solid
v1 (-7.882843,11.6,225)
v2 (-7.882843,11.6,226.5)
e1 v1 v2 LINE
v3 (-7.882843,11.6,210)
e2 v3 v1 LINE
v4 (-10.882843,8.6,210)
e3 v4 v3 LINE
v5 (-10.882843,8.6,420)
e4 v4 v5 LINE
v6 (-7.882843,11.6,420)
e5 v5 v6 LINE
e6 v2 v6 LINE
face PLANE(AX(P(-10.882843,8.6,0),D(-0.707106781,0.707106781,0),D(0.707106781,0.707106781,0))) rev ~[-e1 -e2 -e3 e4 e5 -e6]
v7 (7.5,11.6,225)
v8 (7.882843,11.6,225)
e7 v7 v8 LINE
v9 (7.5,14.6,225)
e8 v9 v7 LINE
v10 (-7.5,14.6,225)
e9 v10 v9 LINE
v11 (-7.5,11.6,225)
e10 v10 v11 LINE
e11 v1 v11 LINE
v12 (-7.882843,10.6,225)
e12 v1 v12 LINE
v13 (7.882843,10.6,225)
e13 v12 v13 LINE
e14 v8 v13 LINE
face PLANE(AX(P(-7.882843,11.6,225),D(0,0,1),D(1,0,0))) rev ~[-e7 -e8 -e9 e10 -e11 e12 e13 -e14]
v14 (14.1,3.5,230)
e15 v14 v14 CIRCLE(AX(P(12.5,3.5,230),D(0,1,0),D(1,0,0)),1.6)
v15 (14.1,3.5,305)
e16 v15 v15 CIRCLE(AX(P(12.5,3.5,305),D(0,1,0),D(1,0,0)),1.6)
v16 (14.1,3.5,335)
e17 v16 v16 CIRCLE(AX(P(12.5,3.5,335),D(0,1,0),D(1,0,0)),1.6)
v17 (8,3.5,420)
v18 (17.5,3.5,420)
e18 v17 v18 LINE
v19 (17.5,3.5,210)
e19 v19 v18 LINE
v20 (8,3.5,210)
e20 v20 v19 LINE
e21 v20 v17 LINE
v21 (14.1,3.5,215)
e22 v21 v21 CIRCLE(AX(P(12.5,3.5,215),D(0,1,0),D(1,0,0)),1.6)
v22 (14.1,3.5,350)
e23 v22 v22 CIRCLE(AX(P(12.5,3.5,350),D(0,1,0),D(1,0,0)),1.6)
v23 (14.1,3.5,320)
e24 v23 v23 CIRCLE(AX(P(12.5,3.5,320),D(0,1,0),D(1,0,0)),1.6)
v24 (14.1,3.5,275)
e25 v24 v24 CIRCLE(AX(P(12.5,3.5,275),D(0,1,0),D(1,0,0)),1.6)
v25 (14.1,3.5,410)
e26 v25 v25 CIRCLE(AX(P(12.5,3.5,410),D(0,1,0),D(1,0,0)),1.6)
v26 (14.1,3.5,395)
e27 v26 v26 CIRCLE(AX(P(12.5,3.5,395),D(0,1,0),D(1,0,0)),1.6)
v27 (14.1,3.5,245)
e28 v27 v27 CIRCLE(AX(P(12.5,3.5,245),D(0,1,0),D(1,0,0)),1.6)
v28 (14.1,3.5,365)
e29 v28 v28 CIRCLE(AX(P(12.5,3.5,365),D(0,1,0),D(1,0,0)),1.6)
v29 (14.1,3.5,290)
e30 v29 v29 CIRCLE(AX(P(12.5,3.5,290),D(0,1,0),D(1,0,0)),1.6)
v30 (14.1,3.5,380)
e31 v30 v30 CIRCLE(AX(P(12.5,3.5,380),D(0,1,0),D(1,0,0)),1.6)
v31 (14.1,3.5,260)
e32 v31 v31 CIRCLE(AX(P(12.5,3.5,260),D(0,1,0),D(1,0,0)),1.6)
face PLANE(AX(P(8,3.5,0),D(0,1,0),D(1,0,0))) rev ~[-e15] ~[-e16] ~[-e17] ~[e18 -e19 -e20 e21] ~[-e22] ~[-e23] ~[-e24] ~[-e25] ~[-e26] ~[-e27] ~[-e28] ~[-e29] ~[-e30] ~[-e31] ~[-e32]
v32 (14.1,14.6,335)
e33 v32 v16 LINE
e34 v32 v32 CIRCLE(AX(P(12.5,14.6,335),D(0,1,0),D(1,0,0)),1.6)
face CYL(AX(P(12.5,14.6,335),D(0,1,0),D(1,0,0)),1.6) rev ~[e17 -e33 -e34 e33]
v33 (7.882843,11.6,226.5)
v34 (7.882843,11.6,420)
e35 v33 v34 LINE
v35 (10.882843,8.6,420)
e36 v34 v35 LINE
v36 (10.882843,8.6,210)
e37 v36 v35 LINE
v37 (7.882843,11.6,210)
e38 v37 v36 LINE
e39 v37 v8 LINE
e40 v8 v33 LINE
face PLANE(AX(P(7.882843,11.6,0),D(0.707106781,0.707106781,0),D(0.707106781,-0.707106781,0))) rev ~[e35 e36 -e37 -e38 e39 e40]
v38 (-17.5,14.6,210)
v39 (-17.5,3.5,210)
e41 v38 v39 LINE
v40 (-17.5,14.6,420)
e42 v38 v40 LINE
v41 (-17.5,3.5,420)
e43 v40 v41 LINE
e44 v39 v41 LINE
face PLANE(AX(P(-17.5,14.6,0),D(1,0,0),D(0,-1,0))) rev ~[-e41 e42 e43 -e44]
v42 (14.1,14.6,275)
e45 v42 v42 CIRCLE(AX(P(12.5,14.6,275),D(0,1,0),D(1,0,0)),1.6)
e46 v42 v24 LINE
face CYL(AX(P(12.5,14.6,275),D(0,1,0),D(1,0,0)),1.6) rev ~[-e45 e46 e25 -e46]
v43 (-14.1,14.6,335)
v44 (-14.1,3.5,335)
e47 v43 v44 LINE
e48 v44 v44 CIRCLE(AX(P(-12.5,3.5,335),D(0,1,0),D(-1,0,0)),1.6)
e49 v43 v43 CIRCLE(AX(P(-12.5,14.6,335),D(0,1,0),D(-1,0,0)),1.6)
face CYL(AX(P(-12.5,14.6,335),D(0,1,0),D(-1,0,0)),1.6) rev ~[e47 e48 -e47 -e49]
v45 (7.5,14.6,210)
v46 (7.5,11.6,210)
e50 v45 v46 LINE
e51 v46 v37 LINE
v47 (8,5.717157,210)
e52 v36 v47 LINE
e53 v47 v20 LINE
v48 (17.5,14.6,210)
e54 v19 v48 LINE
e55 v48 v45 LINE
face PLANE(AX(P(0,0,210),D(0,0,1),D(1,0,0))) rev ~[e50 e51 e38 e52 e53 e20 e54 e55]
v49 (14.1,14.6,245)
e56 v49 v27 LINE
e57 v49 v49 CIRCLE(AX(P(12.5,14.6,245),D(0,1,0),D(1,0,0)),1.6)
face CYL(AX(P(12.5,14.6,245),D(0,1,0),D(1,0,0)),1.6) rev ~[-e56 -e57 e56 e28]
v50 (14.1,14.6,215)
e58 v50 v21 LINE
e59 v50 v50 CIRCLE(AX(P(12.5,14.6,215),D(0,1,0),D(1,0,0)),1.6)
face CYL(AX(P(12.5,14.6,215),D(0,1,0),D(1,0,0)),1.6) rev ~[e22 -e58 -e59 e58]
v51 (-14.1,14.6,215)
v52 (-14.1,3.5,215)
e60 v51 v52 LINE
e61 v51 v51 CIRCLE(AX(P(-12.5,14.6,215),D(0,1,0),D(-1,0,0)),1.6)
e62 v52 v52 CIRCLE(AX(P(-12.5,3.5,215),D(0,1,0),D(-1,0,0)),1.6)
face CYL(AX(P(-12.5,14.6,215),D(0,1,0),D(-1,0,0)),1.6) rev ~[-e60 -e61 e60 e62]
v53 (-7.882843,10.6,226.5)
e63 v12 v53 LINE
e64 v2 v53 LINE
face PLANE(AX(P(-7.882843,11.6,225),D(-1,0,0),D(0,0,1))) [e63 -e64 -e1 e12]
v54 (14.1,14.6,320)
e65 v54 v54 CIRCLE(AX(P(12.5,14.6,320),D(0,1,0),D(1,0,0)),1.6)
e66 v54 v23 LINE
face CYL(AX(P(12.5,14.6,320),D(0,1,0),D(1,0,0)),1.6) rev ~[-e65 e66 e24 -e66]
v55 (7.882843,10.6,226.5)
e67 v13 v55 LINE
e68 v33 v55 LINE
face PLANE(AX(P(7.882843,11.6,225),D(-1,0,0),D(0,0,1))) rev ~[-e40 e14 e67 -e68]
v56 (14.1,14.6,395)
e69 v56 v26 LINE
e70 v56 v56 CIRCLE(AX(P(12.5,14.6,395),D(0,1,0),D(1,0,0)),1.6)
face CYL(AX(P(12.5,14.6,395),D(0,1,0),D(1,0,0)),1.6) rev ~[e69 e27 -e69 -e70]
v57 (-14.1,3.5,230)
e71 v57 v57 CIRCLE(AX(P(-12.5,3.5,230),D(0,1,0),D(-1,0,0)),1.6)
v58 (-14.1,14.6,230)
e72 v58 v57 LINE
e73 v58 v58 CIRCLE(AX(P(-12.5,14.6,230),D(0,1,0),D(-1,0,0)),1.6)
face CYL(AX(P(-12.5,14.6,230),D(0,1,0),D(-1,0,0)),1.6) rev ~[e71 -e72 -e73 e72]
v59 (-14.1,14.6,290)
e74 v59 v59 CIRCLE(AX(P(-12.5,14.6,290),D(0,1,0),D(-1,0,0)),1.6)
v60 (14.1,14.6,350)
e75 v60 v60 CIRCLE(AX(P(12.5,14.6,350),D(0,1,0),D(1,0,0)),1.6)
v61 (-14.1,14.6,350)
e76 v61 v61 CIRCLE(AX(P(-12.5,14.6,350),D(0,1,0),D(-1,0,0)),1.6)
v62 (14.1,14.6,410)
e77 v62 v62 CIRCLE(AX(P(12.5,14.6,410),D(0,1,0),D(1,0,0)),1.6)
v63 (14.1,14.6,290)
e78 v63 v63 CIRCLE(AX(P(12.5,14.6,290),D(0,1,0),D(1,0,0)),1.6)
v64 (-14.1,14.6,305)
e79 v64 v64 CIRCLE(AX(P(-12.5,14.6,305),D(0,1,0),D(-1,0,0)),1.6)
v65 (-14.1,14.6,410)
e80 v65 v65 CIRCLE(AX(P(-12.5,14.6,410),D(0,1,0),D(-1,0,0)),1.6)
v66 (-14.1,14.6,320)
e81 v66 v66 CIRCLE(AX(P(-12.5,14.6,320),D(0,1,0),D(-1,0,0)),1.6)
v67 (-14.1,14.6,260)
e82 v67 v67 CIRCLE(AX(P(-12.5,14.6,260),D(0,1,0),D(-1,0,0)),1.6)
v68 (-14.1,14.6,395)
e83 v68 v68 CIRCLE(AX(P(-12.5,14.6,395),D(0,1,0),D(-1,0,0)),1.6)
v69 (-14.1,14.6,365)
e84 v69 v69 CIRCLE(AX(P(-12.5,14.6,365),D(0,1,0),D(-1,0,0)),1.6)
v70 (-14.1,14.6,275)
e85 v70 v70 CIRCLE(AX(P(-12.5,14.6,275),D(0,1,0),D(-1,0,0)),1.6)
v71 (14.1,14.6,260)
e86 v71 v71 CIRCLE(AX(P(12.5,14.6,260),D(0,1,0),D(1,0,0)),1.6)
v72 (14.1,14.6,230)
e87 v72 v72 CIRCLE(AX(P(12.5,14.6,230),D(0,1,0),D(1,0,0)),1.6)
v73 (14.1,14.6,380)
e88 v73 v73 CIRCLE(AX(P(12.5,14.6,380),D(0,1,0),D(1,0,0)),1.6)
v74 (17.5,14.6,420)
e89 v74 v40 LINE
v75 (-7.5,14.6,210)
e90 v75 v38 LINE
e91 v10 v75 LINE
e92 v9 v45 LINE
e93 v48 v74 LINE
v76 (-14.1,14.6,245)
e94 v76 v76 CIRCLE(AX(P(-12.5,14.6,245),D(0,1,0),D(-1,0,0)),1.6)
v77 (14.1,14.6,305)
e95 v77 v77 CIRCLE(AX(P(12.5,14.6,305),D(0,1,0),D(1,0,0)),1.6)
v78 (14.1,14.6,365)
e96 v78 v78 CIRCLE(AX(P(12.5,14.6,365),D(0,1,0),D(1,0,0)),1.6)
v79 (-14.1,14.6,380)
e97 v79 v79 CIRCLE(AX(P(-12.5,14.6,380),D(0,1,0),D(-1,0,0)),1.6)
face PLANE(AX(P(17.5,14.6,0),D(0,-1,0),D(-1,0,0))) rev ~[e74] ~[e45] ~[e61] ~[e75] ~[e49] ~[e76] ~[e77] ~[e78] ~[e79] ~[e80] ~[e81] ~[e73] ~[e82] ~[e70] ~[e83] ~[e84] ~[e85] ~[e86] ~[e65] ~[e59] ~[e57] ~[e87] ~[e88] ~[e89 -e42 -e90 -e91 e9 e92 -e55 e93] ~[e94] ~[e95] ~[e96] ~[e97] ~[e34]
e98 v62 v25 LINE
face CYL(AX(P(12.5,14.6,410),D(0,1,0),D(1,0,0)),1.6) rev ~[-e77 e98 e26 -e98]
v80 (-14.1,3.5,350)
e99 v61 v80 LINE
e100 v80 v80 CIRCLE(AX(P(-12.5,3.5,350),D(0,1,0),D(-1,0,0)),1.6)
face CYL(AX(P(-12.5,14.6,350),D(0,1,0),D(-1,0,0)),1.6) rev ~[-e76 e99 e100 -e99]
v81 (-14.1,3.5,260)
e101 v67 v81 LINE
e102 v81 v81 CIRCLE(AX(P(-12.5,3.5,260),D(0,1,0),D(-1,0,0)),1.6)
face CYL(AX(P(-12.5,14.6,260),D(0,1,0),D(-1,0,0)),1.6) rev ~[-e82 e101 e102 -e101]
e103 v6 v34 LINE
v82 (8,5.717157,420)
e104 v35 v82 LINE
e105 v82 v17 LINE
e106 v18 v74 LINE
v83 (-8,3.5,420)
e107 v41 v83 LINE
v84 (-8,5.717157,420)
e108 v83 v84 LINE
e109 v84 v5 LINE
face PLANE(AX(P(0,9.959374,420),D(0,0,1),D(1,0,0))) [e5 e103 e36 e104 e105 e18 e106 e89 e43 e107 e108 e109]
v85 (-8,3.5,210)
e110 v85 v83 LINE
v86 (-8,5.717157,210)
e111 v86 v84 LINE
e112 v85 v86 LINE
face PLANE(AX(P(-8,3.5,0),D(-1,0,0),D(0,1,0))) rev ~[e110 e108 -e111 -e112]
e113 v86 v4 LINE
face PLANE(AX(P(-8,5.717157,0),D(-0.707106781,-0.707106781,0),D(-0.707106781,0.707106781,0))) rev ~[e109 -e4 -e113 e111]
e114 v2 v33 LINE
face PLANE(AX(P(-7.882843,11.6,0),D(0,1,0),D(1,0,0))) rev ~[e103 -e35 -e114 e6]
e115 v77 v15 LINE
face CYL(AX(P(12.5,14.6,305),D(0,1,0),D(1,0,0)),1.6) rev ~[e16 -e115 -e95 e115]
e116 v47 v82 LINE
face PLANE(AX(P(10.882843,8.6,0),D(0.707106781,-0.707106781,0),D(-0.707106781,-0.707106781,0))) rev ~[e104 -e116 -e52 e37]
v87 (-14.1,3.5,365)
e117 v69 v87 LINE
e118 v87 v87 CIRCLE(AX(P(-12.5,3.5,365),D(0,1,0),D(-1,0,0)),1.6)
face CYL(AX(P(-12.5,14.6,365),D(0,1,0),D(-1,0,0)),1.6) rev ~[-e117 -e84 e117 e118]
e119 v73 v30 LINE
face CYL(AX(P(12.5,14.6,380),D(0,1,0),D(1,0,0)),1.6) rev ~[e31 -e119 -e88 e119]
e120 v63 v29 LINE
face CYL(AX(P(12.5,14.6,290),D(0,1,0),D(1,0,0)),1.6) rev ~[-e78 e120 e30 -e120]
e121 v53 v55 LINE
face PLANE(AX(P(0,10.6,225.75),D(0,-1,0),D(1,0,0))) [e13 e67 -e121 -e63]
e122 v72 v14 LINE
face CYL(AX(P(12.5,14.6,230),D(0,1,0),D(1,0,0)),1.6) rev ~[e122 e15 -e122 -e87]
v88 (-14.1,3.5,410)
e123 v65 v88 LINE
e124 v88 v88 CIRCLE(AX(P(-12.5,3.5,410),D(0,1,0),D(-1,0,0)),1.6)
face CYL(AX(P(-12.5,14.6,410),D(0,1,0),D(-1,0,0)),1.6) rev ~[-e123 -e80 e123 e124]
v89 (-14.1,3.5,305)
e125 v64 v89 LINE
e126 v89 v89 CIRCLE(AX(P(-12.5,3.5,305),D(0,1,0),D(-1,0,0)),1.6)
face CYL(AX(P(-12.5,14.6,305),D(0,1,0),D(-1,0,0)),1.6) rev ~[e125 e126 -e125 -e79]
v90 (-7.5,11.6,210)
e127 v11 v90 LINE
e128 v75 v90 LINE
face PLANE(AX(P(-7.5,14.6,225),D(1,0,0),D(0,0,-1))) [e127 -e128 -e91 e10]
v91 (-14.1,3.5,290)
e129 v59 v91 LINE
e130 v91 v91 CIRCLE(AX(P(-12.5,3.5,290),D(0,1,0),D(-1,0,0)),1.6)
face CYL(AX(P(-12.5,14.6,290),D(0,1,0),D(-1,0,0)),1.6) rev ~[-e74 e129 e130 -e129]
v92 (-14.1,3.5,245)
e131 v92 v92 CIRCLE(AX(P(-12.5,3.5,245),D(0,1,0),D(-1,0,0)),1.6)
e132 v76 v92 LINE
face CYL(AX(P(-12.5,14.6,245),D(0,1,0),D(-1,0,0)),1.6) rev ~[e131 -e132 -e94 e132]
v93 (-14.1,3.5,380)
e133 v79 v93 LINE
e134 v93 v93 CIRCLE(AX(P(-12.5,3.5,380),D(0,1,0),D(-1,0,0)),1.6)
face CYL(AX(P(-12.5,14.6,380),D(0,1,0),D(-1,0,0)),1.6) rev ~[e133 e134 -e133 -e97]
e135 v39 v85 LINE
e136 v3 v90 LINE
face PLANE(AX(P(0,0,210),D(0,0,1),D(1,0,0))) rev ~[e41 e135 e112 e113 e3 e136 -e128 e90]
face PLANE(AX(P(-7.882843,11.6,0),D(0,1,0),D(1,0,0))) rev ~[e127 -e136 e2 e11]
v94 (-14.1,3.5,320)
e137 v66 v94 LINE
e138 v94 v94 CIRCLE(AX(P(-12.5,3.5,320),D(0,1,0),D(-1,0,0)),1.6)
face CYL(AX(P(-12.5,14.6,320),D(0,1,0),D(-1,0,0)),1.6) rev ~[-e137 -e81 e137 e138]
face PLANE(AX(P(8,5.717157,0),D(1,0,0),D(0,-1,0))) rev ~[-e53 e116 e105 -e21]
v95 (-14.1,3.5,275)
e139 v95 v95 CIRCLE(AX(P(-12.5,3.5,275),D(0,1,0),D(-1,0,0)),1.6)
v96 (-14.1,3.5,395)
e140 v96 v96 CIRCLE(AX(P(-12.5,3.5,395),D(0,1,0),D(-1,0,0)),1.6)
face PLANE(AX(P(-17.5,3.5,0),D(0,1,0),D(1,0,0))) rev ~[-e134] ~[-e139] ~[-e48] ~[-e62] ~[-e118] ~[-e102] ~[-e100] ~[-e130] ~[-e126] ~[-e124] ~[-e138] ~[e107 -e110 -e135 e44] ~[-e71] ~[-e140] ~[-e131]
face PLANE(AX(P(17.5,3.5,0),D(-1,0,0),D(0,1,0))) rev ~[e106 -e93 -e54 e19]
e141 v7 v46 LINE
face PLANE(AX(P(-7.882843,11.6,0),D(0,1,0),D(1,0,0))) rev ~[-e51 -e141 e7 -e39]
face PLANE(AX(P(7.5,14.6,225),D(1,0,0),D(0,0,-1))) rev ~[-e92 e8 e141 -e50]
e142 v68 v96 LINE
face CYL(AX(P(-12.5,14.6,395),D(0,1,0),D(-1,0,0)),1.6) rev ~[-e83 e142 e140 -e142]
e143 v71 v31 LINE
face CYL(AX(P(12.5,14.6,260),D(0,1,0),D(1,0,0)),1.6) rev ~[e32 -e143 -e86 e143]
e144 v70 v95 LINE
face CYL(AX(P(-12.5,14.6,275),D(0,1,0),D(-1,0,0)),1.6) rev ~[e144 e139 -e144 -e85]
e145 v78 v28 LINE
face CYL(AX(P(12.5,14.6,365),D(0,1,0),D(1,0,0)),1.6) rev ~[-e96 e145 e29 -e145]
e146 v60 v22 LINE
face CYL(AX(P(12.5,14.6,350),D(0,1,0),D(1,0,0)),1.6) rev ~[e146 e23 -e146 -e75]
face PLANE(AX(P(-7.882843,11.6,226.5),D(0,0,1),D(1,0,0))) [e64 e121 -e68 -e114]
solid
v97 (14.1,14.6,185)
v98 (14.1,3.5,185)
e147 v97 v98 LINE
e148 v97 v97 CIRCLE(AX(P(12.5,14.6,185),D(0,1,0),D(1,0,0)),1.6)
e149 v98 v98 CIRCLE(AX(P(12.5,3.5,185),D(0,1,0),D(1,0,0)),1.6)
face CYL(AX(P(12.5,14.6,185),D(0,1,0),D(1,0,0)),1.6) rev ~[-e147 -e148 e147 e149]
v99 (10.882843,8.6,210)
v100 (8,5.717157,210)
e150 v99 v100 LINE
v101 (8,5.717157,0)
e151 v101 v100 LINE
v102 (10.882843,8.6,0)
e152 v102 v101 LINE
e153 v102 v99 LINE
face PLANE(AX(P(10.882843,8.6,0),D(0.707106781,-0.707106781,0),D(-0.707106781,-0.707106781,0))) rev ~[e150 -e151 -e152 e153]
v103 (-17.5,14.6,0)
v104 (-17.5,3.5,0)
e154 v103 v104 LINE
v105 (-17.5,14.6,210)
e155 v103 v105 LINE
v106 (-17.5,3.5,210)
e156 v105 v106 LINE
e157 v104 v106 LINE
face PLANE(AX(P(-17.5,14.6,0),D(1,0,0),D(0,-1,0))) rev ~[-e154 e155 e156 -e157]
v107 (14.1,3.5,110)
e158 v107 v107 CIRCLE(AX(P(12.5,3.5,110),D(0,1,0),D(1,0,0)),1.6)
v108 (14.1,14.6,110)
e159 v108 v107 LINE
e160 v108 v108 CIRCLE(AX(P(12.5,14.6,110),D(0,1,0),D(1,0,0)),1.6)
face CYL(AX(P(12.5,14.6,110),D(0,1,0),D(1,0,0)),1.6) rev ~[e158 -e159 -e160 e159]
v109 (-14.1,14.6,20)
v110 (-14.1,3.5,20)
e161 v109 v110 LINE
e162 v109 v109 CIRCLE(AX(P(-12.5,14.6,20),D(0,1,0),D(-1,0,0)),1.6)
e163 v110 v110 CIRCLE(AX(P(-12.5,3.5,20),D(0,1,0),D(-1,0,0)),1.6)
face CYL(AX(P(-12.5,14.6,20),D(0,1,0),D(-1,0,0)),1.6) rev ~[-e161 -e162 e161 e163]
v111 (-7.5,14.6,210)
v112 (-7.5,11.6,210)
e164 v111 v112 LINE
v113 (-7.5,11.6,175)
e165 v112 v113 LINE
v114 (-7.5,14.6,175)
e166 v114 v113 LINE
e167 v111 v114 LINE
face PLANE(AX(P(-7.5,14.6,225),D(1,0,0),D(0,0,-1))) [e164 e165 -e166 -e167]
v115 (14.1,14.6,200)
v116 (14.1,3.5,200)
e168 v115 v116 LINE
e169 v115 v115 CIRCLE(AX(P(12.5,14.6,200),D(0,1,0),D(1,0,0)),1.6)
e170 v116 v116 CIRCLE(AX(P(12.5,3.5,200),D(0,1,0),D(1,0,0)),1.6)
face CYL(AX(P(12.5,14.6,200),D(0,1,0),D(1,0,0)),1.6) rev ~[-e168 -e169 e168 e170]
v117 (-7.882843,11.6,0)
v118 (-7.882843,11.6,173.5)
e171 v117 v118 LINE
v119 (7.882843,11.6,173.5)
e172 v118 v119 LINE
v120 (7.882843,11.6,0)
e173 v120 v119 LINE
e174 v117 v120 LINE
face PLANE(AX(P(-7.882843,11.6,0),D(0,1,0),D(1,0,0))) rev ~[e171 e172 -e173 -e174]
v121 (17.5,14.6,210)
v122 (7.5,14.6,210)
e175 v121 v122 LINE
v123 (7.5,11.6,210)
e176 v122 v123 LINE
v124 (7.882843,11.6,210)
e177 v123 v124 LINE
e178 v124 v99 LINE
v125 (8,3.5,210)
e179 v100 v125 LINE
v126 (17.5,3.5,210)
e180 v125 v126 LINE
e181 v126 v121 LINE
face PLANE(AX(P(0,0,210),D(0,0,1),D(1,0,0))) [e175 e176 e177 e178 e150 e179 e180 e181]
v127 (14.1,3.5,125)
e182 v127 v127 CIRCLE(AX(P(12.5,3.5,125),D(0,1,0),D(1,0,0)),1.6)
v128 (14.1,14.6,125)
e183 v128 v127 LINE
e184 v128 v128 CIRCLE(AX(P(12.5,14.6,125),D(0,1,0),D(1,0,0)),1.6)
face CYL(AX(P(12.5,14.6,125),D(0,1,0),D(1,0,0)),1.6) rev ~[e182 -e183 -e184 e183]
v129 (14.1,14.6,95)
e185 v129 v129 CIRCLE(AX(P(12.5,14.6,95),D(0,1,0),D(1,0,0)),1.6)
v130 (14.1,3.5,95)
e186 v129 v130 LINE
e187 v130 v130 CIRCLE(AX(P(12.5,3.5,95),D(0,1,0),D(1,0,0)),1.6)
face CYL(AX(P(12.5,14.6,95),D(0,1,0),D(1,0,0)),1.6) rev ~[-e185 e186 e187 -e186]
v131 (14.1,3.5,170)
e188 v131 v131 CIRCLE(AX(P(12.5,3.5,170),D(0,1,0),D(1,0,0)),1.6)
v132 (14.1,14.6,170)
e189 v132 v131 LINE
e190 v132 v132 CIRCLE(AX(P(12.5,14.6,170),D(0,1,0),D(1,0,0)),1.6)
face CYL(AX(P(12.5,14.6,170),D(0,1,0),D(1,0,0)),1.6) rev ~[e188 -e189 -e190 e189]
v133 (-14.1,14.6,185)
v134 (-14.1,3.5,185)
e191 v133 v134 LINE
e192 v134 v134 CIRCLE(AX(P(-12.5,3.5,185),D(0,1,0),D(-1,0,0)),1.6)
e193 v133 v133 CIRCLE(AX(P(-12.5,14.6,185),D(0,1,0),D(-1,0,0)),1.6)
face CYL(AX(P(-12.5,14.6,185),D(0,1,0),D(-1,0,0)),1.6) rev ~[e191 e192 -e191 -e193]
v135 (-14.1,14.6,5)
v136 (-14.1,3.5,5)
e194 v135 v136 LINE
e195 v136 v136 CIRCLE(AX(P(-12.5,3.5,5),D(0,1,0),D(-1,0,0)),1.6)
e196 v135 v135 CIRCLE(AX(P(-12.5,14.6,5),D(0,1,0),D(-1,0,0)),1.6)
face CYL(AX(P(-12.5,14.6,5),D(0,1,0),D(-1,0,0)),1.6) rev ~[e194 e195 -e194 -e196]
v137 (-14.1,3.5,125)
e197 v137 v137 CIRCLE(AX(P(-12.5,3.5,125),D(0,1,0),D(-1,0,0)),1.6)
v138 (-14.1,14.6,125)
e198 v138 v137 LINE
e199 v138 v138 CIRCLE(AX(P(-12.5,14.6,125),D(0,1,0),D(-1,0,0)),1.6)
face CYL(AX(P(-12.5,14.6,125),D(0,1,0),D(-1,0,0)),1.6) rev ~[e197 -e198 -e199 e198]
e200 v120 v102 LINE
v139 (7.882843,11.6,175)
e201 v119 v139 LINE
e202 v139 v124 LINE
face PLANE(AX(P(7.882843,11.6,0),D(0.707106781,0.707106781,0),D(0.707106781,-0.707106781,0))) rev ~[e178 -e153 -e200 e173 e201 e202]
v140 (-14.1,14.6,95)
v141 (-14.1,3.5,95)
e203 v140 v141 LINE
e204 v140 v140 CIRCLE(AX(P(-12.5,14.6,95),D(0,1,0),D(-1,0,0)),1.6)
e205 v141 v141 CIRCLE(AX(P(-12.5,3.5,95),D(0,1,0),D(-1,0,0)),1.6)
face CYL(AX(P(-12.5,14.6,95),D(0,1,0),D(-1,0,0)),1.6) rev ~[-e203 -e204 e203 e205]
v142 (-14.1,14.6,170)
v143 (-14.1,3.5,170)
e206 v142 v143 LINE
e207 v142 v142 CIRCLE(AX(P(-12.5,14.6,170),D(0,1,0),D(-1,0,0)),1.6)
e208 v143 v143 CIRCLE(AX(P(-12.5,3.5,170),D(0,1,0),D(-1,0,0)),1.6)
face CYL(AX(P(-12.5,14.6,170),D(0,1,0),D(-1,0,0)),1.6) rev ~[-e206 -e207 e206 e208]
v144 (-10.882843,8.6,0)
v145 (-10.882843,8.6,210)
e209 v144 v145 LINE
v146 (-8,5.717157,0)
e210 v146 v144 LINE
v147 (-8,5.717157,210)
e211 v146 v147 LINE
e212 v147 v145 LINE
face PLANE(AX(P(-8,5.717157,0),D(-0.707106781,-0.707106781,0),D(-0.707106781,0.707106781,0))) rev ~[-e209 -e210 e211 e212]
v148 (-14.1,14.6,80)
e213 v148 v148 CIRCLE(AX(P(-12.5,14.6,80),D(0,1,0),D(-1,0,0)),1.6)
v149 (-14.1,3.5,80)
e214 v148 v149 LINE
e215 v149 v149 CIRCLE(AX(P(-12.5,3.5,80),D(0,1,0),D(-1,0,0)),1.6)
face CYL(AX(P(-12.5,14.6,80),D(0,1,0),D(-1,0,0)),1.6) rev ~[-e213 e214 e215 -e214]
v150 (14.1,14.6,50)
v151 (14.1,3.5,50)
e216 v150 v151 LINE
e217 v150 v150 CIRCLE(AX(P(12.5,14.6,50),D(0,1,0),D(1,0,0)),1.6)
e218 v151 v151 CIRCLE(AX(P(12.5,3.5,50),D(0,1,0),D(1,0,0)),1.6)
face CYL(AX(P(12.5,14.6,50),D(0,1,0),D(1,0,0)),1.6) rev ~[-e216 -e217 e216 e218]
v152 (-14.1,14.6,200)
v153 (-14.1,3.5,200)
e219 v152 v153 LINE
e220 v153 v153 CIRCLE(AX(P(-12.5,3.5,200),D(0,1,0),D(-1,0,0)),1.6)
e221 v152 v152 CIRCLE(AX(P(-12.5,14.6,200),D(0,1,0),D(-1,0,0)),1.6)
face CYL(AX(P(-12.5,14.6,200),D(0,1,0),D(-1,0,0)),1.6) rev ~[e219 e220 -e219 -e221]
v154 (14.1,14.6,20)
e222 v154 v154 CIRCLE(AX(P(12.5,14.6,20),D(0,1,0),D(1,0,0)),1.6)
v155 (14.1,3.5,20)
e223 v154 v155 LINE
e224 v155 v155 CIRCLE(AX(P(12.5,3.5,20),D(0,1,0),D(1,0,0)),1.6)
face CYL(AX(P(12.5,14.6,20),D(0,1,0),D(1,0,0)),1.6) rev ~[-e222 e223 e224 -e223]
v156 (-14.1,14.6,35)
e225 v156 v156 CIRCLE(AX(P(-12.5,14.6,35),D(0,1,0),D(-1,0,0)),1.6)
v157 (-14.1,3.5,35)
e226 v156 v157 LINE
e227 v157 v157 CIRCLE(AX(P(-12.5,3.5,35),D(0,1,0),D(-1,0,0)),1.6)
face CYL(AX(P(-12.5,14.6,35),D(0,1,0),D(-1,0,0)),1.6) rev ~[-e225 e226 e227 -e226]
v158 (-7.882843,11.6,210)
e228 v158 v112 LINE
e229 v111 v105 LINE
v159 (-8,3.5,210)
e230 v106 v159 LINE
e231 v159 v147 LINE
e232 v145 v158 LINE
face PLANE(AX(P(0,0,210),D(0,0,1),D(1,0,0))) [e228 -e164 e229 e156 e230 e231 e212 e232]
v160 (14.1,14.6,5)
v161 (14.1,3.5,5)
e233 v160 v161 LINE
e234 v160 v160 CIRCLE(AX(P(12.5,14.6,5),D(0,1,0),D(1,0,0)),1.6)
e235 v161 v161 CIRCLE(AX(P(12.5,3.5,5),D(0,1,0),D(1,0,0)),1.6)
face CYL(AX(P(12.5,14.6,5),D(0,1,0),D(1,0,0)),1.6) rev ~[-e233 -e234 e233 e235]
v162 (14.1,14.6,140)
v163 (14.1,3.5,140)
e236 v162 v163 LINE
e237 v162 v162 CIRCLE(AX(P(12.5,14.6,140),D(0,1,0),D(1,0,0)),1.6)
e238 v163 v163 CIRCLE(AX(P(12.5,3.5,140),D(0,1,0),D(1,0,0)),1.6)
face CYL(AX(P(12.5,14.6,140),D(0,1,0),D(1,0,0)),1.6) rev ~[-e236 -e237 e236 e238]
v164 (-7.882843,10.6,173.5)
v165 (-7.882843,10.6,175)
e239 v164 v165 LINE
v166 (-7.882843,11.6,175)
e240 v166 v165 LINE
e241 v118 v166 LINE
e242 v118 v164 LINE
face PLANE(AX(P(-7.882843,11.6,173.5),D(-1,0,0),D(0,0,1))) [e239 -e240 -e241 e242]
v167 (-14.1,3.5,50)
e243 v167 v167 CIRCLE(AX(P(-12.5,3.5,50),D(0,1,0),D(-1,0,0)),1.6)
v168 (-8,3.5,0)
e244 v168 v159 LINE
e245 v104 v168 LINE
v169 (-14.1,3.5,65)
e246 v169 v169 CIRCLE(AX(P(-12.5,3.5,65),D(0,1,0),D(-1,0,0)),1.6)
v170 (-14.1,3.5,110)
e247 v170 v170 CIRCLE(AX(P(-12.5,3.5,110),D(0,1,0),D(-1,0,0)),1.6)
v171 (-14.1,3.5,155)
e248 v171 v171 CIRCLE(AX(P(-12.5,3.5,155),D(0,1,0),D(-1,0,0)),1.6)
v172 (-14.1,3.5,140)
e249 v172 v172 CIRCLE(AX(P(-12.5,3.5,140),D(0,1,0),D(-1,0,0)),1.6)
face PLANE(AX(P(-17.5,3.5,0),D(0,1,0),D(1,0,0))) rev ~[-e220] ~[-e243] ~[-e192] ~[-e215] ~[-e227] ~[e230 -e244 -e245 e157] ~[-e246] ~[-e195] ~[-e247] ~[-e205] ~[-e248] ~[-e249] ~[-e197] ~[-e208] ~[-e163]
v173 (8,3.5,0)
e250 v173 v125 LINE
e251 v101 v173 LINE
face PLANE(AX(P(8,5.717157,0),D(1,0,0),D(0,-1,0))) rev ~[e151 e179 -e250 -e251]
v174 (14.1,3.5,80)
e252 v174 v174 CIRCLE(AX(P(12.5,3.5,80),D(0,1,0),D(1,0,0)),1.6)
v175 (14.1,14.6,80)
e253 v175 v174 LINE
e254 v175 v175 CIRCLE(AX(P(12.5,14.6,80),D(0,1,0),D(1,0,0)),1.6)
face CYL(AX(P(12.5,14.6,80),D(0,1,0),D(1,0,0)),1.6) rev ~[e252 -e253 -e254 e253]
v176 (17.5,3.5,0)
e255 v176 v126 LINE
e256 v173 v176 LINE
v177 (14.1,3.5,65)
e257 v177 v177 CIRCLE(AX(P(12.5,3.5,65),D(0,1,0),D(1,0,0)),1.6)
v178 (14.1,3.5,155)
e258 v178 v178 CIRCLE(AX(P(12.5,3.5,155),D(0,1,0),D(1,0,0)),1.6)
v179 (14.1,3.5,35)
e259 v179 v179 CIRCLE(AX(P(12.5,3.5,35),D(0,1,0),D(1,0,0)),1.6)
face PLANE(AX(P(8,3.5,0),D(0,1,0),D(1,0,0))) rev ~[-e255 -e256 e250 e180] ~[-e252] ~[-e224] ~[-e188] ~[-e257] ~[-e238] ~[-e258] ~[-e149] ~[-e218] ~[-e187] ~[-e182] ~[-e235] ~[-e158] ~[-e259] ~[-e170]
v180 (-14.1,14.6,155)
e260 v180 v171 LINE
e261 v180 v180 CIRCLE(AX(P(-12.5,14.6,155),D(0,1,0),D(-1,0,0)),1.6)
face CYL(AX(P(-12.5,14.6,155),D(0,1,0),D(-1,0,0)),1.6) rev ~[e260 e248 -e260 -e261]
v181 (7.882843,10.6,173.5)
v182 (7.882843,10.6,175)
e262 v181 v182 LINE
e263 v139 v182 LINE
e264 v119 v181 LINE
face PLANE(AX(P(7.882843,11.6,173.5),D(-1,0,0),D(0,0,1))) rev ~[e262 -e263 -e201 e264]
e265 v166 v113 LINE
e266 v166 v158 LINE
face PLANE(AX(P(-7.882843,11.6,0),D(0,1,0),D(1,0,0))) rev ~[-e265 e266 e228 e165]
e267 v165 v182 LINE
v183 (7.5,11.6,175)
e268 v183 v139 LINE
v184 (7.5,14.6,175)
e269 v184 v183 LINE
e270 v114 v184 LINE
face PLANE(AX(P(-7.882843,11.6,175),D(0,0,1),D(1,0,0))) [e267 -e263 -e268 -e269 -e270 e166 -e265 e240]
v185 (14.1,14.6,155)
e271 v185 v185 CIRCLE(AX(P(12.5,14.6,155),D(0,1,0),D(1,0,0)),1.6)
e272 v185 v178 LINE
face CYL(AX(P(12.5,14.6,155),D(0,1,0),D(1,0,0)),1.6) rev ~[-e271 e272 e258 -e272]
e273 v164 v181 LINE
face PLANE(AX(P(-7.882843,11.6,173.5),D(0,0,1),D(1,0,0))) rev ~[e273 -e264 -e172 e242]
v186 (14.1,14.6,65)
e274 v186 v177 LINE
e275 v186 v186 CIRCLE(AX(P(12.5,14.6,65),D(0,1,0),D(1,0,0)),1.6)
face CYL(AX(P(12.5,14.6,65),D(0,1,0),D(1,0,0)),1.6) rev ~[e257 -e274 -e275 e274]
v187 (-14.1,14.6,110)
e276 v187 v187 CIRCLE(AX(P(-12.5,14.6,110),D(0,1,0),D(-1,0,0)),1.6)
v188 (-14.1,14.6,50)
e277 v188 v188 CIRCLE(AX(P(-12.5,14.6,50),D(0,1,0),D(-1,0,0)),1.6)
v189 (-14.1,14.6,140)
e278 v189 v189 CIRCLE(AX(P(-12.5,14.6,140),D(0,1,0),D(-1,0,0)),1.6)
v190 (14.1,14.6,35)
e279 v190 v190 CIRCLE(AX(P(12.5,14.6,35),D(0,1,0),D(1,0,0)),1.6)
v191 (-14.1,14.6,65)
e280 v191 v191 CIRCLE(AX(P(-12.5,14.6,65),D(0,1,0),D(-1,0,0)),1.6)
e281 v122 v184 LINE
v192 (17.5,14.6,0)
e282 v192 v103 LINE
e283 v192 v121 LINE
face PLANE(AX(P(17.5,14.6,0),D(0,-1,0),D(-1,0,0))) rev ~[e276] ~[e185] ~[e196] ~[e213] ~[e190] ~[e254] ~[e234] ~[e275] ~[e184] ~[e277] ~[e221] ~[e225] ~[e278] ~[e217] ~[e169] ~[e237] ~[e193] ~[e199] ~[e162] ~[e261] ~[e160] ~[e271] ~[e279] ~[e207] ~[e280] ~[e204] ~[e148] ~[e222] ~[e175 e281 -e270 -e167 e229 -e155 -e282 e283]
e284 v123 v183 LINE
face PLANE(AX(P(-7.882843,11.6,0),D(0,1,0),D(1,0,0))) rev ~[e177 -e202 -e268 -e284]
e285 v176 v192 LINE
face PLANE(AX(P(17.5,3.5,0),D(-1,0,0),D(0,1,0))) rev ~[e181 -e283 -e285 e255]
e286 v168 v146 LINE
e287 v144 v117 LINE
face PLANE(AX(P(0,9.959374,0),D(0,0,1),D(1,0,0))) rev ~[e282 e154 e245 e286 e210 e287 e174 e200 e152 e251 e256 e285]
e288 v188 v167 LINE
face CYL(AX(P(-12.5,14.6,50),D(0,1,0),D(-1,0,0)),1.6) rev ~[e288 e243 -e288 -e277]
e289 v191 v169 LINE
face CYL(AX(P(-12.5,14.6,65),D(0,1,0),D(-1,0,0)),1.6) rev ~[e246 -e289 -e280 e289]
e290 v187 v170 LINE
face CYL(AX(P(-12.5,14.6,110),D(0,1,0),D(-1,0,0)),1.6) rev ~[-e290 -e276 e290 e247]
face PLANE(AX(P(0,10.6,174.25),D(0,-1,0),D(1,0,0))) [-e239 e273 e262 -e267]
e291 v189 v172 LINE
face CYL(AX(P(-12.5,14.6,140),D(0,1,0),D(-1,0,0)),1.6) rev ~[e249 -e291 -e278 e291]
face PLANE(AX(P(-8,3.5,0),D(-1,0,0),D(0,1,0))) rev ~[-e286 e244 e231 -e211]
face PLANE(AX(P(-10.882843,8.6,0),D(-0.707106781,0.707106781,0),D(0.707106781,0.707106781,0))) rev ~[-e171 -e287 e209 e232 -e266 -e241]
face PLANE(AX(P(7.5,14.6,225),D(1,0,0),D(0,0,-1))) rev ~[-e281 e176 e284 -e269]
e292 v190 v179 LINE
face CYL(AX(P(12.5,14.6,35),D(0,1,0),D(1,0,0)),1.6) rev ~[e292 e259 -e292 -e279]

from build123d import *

# Parameters (mm, degrees)
EXTRUDE_2_DEPTH     = 420
SKETCH_3_R          = 1.6
CUT_EXTRUDE_1_DEPTH = 421.510951106
SKETCH_4_W          = 15
SKETCH_4_H          = 50
CUT_EXTRUDE_2_DEPTH = 421.510951106
SKETCH_7_W          = 15.765685424
SKETCH_7_H          = 1.5
EXTRUDE_3_DEPTH     = 1


with BuildPart() as part:
    # 草图1 → 凸台-拉伸2 (new body)
    with BuildSketch(Plane.XY):
        Polygon((8, 3.5), (17.5, 3.5), (17.5, 14.6), (-17.5, 14.6), (-17.5, 3.5), (-8, 3.5), (-8, 5.717157288), (-10.882842712, 8.6), (-7.882842712, 11.6), (7.882842712, 11.6), (10.882842712, 8.6), (8, 5.717157288), align=None)
    extrude(amount=EXTRUDE_2_DEPTH)

    # 草图3 → 切除-拉伸1 (cut, through all)
    with BuildSketch(Plane(origin=(0, 14.6, 0), x_dir=(1, 0, 0), z_dir=(0, 1, 0))):
        with Locations(Location((-12.5, -5, 0), (0, 0, 180))):
            Circle(SKETCH_3_R)
        with Locations(Location((-12.5, -20, 0), (0, 0, 180))):
            Circle(SKETCH_3_R)
        with Locations(Location((-12.5, -35, 0), (0, 0, 180))):
            Circle(SKETCH_3_R)
        with Locations(Location((-12.5, -50, 0), (0, 0, 180))):
            Circle(SKETCH_3_R)
        with Locations(Location((-12.5, -65, 0), (0, 0, 180))):
            Circle(SKETCH_3_R)
        with Locations(Location((-12.5, -80, 0), (0, 0, 180))):
            Circle(SKETCH_3_R)
        with Locations(Location((-12.5, -95, 0), (0, 0, 180))):
            Circle(SKETCH_3_R)
        with Locations(Location((-12.5, -110, 0), (0, 0, 180))):
            Circle(SKETCH_3_R)
        with Locations(Location((-12.5, -125, 0), (0, 0, 180))):
            Circle(SKETCH_3_R)
        with Locations(Location((-12.5, -140, 0), (0, 0, 180))):
            Circle(SKETCH_3_R)
        with Locations(Location((-12.5, -155, 0), (0, 0, 180))):
            Circle(SKETCH_3_R)
        with Locations(Location((-12.5, -170, 0), (0, 0, 180))):
            Circle(SKETCH_3_R)
        with Locations(Location((-12.5, -185, 0), (0, 0, 180))):
            Circle(SKETCH_3_R)
        with Locations(Location((-12.5, -200, 0), (0, 0, 180))):
            Circle(SKETCH_3_R)
        with Locations(Location((-12.5, -215, 0), (0, 0, 180))):
            Circle(SKETCH_3_R)
        with Locations(Location((-12.5, -230, 0), (0, 0, 180))):
            Circle(SKETCH_3_R)
        with Locations(Location((-12.5, -245, 0), (0, 0, 180))):
            Circle(SKETCH_3_R)
        with Locations(Location((-12.5, -260, 0), (0, 0, 180))):
            Circle(SKETCH_3_R)
        with Locations(Location((-12.5, -275, 0), (0, 0, 180))):
            Circle(SKETCH_3_R)
        with Locations(Location((-12.5, -290, 0), (0, 0, 180))):
            Circle(SKETCH_3_R)
        with Locations(Location((-12.5, -305, 0), (0, 0, 180))):
            Circle(SKETCH_3_R)
        with Locations(Location((-12.5, -320, 0), (0, 0, 180))):
            Circle(SKETCH_3_R)
        with Locations(Location((-12.5, -335, 0), (0, 0, 180))):
            Circle(SKETCH_3_R)
        with Locations(Location((-12.5, -350, 0), (0, 0, 180))):
            Circle(SKETCH_3_R)
        with Locations(Location((-12.5, -365, 0), (0, 0, 180))):
            Circle(SKETCH_3_R)
        with Locations(Location((-12.5, -380, 0), (0, 0, 180))):
            Circle(SKETCH_3_R)
        with Locations(Location((-12.5, -395, 0), (0, 0, 180))):
            Circle(SKETCH_3_R)
        with Locations(Location((-12.5, -410, 0), (0, 0, 180))):
            Circle(SKETCH_3_R)
        with Locations((12.5, -410)):
            Circle(SKETCH_3_R)
        with Locations((12.5, -395)):
            Circle(SKETCH_3_R)
        with Locations((12.5, -380)):
            Circle(SKETCH_3_R)
        with Locations((12.5, -365)):
            Circle(SKETCH_3_R)
        with Locations((12.5, -350)):
            Circle(SKETCH_3_R)
        with Locations((12.5, -335)):
            Circle(SKETCH_3_R)
        with Locations((12.5, -320)):
            Circle(SKETCH_3_R)
        with Locations((12.5, -305)):
            Circle(SKETCH_3_R)
        with Locations((12.5, -290)):
            Circle(SKETCH_3_R)
        with Locations((12.5, -275)):
            Circle(SKETCH_3_R)
        with Locations((12.5, -260)):
            Circle(SKETCH_3_R)
        with Locations((12.5, -245)):
            Circle(SKETCH_3_R)
        with Locations((12.5, -230)):
            Circle(SKETCH_3_R)
        with Locations((12.5, -215)):
            Circle(SKETCH_3_R)
        with Locations((12.5, -200)):
            Circle(SKETCH_3_R)
        with Locations((12.5, -185)):
            Circle(SKETCH_3_R)
        with Locations((12.5, -170)):
            Circle(SKETCH_3_R)
        with Locations((12.5, -155)):
            Circle(SKETCH_3_R)
        with Locations((12.5, -140)):
            Circle(SKETCH_3_R)
        with Locations((12.5, -125)):
            Circle(SKETCH_3_R)
        with Locations((12.5, -110)):
            Circle(SKETCH_3_R)
        with Locations((12.5, -95)):
            Circle(SKETCH_3_R)
        with Locations((12.5, -80)):
            Circle(SKETCH_3_R)
        with Locations((12.5, -65)):
            Circle(SKETCH_3_R)
        with Locations((12.5, -50)):
            Circle(SKETCH_3_R)
        with Locations((12.5, -35)):
            Circle(SKETCH_3_R)
        with Locations((12.5, -20)):
            Circle(SKETCH_3_R)
        with Locations((12.5, -5)):
            Circle(SKETCH_3_R)
    extrude(amount=-CUT_EXTRUDE_1_DEPTH, mode=Mode.SUBTRACT)

    # 草图4 → 切除-拉伸2 (cut, through all)
    with BuildSketch(Plane(origin=(0, 14.6, 0), x_dir=(1, 0, 0), z_dir=(0, 1, 0))):
        with Locations((0, -200)):
            Rectangle(SKETCH_4_W, SKETCH_4_H)
    extrude(amount=-CUT_EXTRUDE_2_DEPTH, mode=Mode.SUBTRACT)

    # 草图7 → 凸台-拉伸3 (add)
    with BuildSketch(Plane.XZ.offset(-11.6)):
        with Locations((0, 225.75)):
            Rectangle(SKETCH_7_W, SKETCH_7_H)
        with Locations((0, 174.25)):
            Rectangle(SKETCH_7_W, SKETCH_7_H)
    extrude(amount=EXTRUDE_3_DEPTH)


with BuildPart() as body_2:
    # Split Bodies 2: the piece on the far side of the plane
    add(part.part)
    split(bisect_by=Plane.XY.offset(210), keep=Keep.BOTTOM)


with BuildPart() as part_1:
    add(part.part)

    # Split Bodies 2
    split(bisect_by=Plane.XY.offset(210), keep=Keep.TOP)


solid = Compound([body_2.part, part_1.part])
